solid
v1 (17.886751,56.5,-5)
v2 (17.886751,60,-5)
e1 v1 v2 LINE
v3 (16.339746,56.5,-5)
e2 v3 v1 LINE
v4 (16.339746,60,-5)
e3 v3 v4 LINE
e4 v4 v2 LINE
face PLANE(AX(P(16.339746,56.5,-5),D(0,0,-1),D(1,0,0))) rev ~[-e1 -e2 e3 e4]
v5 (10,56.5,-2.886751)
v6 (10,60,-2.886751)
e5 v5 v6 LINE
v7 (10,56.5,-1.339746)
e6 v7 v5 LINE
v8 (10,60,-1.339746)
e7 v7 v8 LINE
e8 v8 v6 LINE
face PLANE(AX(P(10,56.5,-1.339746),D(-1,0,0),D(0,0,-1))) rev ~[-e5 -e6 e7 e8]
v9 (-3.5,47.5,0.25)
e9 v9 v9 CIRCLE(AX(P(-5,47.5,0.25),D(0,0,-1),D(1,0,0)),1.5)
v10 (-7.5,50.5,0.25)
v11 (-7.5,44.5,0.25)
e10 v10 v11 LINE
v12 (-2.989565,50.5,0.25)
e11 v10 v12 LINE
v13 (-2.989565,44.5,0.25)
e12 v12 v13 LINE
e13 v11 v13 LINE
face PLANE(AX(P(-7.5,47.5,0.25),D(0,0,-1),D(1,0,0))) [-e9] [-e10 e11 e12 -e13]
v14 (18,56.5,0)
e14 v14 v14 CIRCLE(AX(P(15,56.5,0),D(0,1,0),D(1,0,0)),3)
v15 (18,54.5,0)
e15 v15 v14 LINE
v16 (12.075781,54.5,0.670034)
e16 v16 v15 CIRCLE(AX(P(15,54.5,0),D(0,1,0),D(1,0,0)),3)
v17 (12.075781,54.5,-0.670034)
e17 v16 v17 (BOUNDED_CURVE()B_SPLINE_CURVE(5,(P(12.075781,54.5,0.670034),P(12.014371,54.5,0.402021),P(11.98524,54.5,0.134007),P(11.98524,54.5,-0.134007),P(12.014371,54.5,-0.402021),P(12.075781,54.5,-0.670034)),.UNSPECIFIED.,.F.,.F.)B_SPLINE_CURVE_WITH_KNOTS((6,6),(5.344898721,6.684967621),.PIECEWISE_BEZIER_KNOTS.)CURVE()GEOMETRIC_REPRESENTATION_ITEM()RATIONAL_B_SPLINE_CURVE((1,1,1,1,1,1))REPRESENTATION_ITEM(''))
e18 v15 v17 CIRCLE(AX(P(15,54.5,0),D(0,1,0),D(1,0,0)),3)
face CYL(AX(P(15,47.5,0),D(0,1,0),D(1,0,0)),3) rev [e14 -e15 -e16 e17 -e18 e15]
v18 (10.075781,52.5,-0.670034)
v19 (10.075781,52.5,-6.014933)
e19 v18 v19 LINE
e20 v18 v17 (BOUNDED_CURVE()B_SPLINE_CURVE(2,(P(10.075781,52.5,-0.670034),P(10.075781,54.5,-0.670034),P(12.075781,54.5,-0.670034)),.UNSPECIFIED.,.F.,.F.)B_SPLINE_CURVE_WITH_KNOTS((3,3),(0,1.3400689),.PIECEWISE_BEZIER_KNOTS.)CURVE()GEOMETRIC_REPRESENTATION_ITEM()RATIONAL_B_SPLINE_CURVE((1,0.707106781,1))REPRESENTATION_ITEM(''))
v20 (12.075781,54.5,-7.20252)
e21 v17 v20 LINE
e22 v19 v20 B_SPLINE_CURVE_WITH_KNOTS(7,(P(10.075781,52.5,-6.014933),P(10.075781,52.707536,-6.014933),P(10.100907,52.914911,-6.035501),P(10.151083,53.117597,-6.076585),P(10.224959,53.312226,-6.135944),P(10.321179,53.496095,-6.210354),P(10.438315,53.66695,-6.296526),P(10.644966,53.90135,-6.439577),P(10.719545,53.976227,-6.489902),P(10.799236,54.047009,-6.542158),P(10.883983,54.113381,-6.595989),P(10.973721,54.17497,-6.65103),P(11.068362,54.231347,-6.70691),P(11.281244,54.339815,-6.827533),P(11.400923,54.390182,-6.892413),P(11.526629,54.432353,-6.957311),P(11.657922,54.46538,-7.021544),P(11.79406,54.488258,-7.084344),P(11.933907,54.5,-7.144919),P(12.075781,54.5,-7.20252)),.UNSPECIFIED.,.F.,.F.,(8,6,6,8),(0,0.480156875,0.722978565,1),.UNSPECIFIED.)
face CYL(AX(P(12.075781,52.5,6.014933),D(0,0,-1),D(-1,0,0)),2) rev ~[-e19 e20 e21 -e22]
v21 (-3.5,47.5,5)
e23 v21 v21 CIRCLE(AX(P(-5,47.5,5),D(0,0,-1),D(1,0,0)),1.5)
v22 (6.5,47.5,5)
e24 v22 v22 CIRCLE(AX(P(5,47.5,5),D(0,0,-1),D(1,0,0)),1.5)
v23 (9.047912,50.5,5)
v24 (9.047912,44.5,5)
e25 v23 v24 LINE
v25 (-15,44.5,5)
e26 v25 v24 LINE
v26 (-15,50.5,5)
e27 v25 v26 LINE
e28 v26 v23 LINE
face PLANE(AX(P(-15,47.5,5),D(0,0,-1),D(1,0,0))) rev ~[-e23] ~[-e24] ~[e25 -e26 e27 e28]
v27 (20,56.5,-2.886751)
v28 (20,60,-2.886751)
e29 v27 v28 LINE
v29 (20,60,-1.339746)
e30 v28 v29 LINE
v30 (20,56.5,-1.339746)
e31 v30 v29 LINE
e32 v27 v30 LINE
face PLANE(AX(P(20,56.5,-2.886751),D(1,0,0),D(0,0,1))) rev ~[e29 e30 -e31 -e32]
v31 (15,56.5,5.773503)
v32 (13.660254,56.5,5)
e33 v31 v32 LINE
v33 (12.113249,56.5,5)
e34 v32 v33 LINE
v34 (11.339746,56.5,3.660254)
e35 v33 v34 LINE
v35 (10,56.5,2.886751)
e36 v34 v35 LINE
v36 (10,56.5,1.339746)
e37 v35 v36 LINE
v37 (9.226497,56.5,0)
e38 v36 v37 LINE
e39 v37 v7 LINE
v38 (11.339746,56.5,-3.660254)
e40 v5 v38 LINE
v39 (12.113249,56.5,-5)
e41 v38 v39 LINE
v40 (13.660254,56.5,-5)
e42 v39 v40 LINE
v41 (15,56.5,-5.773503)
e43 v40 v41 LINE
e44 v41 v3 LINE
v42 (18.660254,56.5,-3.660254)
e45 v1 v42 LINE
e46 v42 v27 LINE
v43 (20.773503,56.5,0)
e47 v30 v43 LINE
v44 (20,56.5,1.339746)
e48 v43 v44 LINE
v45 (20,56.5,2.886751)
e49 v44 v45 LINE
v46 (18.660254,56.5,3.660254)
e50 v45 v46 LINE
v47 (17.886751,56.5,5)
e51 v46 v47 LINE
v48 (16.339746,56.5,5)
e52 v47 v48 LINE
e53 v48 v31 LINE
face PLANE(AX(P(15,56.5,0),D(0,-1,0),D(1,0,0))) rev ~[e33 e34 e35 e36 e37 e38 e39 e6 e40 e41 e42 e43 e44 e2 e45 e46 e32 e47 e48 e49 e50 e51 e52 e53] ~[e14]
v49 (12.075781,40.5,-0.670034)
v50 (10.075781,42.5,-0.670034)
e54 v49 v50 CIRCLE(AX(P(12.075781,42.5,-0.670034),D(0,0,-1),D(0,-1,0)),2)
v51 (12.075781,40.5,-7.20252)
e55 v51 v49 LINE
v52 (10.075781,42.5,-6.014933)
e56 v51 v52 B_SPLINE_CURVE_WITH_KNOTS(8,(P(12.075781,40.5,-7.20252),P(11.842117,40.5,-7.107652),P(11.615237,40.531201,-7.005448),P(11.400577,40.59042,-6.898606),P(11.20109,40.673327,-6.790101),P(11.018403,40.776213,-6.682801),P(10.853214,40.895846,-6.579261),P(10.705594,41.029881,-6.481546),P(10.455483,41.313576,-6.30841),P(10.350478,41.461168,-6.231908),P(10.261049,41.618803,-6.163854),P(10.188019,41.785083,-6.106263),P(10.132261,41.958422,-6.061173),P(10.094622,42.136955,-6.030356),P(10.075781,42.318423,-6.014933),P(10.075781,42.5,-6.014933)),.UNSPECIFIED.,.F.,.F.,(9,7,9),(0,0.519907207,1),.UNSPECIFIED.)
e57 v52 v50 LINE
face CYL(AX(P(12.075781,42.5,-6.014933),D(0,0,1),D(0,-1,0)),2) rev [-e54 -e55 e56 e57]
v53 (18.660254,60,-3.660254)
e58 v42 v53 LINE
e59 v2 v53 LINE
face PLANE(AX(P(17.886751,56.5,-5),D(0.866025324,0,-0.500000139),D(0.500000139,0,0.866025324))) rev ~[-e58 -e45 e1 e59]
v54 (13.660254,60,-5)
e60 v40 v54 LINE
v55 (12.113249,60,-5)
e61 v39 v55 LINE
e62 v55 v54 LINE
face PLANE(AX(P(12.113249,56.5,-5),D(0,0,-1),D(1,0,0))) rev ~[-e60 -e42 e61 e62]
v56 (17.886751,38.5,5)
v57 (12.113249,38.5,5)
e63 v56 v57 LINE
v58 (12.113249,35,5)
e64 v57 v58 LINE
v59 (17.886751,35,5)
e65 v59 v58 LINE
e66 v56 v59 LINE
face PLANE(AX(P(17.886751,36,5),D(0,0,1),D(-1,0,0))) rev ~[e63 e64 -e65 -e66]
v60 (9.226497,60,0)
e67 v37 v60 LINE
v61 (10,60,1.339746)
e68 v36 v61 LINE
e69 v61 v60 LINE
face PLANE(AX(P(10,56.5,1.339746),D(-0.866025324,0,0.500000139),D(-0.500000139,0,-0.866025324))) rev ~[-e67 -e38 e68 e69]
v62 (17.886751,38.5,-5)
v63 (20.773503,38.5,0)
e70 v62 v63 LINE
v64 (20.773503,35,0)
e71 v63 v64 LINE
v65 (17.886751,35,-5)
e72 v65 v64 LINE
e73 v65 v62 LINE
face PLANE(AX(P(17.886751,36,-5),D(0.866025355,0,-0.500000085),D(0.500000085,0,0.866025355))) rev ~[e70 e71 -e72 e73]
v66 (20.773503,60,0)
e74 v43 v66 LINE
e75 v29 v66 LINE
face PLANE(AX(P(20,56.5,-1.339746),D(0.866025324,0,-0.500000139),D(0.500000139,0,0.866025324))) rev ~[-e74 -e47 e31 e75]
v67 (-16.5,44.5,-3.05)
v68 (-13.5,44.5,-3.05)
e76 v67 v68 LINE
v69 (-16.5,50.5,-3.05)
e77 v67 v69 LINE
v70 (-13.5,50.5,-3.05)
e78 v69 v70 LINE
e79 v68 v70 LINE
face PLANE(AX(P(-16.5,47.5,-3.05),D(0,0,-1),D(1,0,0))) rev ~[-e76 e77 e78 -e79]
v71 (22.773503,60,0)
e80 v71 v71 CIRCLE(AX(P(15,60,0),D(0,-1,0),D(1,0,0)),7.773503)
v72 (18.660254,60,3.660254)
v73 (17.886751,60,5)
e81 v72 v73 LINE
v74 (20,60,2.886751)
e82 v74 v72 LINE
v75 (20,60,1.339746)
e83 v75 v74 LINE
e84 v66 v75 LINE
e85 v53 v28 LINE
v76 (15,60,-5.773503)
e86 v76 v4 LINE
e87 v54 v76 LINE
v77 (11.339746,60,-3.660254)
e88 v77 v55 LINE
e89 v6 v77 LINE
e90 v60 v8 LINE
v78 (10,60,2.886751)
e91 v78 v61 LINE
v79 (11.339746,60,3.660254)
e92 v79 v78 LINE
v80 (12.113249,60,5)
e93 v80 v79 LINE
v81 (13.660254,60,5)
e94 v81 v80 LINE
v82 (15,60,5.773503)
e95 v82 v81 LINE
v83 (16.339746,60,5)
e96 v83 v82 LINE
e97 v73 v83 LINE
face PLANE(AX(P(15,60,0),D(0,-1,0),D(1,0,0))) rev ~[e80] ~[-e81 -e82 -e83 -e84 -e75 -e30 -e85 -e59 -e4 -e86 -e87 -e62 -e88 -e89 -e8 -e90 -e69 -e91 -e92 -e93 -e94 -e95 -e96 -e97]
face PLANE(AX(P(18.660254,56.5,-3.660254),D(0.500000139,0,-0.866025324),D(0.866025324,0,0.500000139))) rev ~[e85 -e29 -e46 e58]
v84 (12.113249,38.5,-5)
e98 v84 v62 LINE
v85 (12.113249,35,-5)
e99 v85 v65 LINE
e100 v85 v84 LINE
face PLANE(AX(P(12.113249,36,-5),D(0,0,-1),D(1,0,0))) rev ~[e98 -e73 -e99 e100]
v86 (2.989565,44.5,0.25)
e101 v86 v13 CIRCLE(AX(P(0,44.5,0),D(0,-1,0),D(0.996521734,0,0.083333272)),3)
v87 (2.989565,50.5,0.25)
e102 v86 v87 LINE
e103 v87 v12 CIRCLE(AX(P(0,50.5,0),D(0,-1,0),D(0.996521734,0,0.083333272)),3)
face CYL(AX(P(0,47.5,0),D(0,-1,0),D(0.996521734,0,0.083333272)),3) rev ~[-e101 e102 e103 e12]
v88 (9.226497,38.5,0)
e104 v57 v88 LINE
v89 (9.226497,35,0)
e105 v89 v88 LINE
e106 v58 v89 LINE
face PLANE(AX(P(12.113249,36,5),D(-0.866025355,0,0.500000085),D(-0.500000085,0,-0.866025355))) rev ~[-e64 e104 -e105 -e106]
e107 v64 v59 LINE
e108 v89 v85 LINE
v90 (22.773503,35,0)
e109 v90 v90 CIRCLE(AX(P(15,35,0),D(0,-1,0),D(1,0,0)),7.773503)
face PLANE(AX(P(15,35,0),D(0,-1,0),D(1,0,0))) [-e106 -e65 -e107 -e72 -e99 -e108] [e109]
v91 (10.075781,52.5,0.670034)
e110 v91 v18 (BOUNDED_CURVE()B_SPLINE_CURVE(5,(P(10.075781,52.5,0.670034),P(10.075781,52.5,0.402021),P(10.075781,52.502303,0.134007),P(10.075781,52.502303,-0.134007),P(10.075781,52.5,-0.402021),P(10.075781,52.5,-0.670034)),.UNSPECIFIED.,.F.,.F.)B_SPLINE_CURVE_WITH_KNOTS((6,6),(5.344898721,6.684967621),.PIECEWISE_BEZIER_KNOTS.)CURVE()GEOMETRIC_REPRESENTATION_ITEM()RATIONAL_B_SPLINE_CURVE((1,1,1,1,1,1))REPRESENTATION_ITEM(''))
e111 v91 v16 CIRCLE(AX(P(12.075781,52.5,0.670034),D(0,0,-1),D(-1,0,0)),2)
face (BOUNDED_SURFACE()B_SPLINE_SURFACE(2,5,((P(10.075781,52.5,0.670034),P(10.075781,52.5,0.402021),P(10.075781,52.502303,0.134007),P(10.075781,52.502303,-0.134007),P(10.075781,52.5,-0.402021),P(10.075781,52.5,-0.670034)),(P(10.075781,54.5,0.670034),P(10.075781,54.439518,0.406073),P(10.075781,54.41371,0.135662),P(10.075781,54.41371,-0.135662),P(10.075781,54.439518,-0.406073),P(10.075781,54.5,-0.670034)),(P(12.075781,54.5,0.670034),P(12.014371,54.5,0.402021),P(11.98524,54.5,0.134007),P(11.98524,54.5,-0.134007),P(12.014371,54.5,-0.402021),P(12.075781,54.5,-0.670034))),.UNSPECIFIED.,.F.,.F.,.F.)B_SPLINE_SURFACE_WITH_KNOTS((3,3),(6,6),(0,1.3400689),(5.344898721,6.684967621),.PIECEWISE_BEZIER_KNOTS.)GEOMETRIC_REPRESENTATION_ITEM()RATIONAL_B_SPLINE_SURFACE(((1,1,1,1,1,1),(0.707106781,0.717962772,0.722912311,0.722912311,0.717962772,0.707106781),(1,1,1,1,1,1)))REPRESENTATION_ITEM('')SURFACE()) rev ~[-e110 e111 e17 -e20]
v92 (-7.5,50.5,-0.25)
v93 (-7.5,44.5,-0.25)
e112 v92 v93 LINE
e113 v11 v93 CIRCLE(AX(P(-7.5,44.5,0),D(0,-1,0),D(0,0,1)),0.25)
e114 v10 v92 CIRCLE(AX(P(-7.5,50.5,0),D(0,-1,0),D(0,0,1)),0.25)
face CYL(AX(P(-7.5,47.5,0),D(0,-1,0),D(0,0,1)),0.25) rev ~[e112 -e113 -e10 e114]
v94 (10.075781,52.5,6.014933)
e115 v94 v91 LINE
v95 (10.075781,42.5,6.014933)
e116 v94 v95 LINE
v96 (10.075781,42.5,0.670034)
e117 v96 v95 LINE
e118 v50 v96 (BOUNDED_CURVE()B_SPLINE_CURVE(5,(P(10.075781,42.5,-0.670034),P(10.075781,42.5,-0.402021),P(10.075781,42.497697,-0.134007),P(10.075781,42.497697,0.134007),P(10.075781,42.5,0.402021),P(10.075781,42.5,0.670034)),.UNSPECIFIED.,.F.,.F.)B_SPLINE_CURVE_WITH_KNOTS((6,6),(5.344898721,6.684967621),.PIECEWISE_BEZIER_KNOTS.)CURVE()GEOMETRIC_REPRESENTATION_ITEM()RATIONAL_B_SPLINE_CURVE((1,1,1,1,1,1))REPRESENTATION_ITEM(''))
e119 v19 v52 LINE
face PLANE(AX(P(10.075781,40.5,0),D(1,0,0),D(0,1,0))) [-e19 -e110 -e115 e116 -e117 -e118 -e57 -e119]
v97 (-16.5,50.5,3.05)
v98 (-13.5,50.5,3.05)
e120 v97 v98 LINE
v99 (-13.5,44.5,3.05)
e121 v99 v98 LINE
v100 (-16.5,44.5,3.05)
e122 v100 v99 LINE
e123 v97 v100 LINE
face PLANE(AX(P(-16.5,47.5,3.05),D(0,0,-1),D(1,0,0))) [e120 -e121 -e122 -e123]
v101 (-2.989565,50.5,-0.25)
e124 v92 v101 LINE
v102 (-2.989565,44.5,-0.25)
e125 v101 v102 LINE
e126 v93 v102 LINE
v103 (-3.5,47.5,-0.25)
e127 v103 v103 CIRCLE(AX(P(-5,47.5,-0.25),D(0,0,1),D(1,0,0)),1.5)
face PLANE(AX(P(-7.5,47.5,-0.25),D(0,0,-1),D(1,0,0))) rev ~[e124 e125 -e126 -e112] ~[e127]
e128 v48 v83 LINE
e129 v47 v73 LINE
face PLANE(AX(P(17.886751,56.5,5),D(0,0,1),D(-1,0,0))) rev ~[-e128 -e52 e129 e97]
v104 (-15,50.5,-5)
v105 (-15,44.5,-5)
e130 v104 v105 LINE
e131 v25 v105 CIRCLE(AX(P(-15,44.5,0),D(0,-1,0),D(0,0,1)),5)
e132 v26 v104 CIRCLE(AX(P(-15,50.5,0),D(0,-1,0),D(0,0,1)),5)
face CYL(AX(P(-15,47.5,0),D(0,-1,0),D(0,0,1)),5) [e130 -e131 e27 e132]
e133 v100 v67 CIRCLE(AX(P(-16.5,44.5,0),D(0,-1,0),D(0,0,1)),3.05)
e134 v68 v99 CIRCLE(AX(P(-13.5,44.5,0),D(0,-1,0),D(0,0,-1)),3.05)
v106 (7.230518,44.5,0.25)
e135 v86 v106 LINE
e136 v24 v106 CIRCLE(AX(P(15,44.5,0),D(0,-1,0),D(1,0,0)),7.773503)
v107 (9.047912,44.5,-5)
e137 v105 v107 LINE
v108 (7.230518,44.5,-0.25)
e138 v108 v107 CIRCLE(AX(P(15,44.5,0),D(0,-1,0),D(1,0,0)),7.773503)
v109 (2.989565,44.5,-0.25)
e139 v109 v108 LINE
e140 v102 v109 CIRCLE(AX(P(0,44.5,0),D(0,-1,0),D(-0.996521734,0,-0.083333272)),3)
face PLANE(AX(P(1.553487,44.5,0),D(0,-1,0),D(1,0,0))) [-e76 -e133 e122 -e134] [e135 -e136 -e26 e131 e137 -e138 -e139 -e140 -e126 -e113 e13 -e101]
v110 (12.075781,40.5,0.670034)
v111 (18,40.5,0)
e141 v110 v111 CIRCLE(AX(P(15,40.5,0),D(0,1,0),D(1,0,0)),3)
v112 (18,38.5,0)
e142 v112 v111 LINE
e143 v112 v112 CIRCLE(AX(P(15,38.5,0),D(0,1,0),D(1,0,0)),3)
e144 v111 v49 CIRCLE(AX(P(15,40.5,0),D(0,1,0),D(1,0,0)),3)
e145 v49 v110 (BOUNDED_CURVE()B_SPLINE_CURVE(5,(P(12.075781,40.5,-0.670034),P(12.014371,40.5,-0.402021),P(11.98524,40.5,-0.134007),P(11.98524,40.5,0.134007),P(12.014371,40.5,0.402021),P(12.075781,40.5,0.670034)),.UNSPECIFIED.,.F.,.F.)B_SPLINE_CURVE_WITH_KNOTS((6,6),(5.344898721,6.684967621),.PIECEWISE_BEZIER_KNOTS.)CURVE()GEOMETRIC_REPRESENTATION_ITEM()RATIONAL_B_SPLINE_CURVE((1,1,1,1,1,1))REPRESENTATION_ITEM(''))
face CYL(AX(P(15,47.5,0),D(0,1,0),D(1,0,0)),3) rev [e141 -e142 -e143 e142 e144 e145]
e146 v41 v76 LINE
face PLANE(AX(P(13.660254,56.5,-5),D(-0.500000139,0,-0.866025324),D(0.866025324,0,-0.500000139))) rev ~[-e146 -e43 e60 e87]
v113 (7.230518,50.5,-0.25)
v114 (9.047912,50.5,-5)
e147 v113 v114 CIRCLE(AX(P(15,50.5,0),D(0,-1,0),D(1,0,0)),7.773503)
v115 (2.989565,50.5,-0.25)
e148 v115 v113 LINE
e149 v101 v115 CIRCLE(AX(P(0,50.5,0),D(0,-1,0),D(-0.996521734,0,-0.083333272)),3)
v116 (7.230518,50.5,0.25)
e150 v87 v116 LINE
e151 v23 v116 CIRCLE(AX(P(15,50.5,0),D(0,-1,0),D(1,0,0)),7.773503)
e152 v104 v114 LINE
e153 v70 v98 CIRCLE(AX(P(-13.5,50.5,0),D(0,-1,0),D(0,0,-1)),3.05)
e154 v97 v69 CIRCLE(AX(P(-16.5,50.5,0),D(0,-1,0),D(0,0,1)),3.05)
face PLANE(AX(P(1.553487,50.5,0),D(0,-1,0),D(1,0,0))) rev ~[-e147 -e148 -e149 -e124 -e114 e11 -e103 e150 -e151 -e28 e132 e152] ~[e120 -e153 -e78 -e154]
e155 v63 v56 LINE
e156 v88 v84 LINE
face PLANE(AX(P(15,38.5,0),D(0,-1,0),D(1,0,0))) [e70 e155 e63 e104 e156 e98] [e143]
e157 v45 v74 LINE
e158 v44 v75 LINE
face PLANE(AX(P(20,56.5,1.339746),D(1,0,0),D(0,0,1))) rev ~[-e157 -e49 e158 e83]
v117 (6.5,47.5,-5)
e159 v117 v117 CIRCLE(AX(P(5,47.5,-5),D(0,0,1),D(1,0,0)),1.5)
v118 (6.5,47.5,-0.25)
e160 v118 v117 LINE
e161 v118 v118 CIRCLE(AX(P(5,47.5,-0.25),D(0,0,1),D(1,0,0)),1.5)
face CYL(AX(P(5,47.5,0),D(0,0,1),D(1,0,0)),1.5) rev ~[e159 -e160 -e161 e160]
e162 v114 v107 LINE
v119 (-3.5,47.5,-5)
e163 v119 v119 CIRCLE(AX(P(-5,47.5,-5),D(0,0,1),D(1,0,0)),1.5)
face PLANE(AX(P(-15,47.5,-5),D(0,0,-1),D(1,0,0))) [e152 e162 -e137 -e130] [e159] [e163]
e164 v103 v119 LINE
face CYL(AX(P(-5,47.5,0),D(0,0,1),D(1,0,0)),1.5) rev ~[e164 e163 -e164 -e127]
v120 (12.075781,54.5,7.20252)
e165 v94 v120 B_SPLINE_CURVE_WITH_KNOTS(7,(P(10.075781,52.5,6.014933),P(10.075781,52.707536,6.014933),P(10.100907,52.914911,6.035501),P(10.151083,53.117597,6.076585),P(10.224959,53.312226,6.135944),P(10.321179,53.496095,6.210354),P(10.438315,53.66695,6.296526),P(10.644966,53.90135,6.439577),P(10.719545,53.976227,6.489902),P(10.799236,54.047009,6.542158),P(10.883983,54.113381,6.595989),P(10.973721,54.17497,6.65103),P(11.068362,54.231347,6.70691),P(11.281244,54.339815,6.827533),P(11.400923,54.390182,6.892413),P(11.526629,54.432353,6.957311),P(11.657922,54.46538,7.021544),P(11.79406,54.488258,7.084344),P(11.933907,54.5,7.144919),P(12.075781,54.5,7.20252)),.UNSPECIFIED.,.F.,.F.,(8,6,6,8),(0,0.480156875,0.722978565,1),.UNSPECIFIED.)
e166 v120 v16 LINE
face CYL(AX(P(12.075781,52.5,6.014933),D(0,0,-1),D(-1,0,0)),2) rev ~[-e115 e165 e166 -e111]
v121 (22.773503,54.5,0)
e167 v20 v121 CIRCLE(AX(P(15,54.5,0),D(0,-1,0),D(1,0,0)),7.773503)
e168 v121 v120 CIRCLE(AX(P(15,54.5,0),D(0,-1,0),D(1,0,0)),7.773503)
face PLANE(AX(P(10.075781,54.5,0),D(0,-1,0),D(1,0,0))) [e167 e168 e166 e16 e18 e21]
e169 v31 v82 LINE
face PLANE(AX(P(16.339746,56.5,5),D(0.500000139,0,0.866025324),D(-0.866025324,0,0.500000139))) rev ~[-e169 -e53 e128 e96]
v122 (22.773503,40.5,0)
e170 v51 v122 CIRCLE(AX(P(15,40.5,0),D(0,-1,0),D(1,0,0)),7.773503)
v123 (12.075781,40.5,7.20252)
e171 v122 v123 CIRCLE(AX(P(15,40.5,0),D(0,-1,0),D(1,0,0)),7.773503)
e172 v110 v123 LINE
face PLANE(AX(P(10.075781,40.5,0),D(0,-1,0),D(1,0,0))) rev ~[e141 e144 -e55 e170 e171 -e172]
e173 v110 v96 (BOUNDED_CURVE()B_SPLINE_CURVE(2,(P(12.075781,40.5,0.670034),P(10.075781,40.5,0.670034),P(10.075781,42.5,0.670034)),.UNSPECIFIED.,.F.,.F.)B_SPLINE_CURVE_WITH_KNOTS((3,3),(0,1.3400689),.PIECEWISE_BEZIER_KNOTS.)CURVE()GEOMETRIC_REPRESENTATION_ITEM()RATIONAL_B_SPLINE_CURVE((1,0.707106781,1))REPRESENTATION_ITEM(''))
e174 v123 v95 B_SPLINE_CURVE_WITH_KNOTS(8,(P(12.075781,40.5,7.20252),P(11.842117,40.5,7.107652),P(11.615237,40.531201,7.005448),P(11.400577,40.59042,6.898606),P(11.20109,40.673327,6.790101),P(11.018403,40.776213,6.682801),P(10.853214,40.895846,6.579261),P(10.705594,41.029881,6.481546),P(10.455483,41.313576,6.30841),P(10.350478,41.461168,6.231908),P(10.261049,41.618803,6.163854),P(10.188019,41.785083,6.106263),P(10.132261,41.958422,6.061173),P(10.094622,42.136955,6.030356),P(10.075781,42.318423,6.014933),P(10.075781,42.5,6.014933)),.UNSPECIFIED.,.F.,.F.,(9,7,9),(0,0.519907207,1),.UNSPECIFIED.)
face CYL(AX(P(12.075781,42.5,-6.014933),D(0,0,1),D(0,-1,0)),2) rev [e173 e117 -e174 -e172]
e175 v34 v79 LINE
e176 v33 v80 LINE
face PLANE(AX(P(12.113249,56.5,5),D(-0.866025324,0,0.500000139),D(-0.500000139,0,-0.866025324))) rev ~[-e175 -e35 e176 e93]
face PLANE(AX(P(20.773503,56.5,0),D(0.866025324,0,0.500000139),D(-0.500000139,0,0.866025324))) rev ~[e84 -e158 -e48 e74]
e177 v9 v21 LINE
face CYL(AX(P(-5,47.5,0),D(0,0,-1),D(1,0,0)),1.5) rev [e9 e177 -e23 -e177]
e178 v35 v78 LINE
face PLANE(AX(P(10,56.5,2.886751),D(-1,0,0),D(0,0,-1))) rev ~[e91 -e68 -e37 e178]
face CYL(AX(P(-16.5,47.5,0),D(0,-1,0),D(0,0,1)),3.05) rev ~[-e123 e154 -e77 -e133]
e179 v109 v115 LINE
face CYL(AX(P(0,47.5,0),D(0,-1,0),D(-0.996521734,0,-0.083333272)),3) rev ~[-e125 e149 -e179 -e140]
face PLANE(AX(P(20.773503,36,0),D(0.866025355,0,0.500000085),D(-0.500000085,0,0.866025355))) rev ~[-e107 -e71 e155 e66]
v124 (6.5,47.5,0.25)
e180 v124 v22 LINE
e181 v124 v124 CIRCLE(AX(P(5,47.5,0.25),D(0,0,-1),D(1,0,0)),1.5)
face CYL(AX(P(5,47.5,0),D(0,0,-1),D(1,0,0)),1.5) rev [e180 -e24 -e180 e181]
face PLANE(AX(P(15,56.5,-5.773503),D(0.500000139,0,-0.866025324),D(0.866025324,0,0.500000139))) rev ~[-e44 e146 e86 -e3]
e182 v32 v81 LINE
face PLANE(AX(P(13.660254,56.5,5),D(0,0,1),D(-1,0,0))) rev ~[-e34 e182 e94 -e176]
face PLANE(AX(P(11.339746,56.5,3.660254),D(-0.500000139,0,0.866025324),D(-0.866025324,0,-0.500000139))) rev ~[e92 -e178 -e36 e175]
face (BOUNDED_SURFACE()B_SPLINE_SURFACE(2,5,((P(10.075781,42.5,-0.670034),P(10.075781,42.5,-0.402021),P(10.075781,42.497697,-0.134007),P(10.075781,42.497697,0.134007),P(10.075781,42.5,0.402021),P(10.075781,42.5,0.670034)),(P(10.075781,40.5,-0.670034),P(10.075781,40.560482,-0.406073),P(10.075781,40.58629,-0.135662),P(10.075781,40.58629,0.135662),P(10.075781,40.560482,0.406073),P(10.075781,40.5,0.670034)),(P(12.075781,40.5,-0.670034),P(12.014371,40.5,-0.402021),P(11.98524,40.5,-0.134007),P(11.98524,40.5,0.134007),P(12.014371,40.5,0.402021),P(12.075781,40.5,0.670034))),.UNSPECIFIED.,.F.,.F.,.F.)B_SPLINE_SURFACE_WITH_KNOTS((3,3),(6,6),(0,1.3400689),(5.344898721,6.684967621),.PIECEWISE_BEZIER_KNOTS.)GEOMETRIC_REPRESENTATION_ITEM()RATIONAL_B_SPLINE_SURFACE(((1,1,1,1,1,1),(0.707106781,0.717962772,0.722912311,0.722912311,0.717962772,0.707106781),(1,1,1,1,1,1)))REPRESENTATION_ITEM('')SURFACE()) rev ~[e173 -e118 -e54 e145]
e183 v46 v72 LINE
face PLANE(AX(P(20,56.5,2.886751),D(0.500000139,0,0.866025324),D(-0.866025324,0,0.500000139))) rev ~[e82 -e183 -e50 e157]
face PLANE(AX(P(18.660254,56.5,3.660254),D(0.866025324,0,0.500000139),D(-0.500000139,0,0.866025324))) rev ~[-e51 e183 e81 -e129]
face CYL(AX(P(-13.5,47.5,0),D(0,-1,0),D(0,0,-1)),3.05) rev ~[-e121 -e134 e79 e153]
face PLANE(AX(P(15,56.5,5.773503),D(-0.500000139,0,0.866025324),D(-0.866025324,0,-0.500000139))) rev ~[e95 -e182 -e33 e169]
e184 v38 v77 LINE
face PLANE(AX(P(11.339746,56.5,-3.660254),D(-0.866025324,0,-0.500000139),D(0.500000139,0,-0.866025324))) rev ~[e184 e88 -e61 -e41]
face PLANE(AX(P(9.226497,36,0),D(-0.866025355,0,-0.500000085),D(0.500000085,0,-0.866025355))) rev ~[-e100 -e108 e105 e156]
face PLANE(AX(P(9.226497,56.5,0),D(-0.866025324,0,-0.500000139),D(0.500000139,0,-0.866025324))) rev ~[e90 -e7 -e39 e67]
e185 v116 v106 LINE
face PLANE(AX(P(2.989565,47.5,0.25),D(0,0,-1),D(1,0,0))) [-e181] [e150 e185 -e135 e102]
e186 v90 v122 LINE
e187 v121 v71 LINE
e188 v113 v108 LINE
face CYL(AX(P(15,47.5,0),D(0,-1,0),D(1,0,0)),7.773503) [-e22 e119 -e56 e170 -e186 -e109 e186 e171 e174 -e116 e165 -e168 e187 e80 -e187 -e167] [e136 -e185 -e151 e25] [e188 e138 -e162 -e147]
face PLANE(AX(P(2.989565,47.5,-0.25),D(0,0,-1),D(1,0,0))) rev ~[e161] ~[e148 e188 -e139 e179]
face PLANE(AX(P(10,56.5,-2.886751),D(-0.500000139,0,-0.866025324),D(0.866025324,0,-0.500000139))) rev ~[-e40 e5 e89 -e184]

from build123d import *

# Parameters (mm, degrees)
SKETCH012_R     = 3
PAD005_DEPTH    = 3
SKETCH013_R     = 7.773503
SKETCH013_R_2   = 3
PAD006_DEPTH    = 12.5
POCKET005_DEPTH = 2.5
POCKET006_DEPTH = 5
SKETCH016_R     = 1.5
SKETCH016_W     = 16.799735
SKETCH016_H     = 14
POCKET007_DEPTH = 10
FILLET_R        = 2


with BuildPart() as part:
    # Sketch012 → Pad005 (new body, symmetric)
    with BuildSketch(Plane.XZ):
        with BuildLine():
            ThreePointArc((-15, 5), (-20, 0), (-15, -5))
            Line((-15, -5), (9.047913, -5))
            ThreePointArc((9.047913, -5), (22.773503, 0), (9.047913, 5))
            Line((-15, 5), (9.047913, 5))
        make_face()
        with Locations((15, 0)):
            Circle(SKETCH012_R, mode=Mode.SUBTRACT)
        with BuildLine():
            ThreePointArc((-2.989565, -0.25), (0, -3), (2.989565, -0.25))
            Line((2.989565, -0.25), (7.5, -0.25))
            ThreePointArc((7.5, -0.25), (7.75, 0), (7.5, 0.25))
            Line((2.989565, 0.25), (7.5, 0.25))
            ThreePointArc((2.989565, 0.25), (0, 3), (-2.989565, 0.25))
            Line((-7.5, 0.25), (-2.989565, 0.25))
            ThreePointArc((-7.5, 0.25), (-7.75, 0), (-7.5, -0.25))
            Line((-7.5, -0.25), (-2.989565, -0.25))
        make_face(mode=Mode.SUBTRACT)
        with BuildLine():
            ThreePointArc((-16.5, 3.05), (-19.55, 0), (-16.5, -3.05))
            Line((-16.5, -3.05), (-13.5, -3.05))
            ThreePointArc((-13.5, -3.05), (-10.45, 0), (-13.5, 3.05))
            Line((-16.5, 3.05), (-13.5, 3.05))
        make_face(mode=Mode.SUBTRACT)
    extrude(amount=PAD005_DEPTH, both=True)

    # Sketch013 → Pad006 (join, symmetric)
    with BuildSketch(Plane.XZ):
        with Locations((15, 0)):
            Circle(SKETCH013_R)
        with Locations((15, 0)):
            Circle(SKETCH013_R_2, mode=Mode.SUBTRACT)
    extrude(amount=PAD006_DEPTH, both=True)

    # Sketch014 → Pocket005 (cut, symmetric)
    with BuildSketch(Plane.XZ.offset(11.5)):
        Polygon((17.886751, -5), (20.773503, 0), (17.886751, 5), (12.113249, 5), (9.226497, 0), (12.113249, -5), align=None)
    extrude(amount=POCKET005_DEPTH, both=True, mode=Mode.SUBTRACT)

    # Sketch015 → Pocket006 (cut)
    with BuildSketch(Plane.XZ.offset(-9)):
        Polygon((17.886751, -5), (18.660254, -3.660254), (20, -2.886751), (20, -1.339746), (20.773503, 0), (20, 1.339746), (20, 2.886751), (18.660254, 3.660254), (17.886751, 5), (16.339746, 5), (15, 5.773503), (13.660254, 5), (12.113249, 5), (11.339746, 3.660254), (10, 2.886751), (10, 1.339746), (9.226497, 0), (10, -1.339746), (10, -2.886751), (11.339746, -3.660254), (12.113249, -5), (13.660254, -5), (15, -5.773503), (16.339746, -5), align=None)
    extrude(amount=-POCKET006_DEPTH, mode=Mode.SUBTRACT)

    # Sketch016 → Pocket007 (cut, symmetric)
    with BuildSketch(Plane.XY):
        with Locations((-5, 0)):
            Circle(SKETCH016_R)
        with Locations((5, 0)):
            Circle(SKETCH016_R)
        with Locations((18.475649, 0)):
            Rectangle(SKETCH016_W, SKETCH016_H)
    extrude(amount=POCKET007_DEPTH, both=True, mode=Mode.SUBTRACT)

    # Fillet
    fillet_edges = [part.edges().sort_by_distance(p)[0] for p in [
        (10.075782, -7, 0),
        (10.075782, 7, 0),
    ]]
    fillet(fillet_edges, radius=FILLET_R)


with BuildPart() as part_1:
    # Body022 placement: moved
    add(part.part.moved(Location((0, 47.5, 0))))


solid = part_1.part
